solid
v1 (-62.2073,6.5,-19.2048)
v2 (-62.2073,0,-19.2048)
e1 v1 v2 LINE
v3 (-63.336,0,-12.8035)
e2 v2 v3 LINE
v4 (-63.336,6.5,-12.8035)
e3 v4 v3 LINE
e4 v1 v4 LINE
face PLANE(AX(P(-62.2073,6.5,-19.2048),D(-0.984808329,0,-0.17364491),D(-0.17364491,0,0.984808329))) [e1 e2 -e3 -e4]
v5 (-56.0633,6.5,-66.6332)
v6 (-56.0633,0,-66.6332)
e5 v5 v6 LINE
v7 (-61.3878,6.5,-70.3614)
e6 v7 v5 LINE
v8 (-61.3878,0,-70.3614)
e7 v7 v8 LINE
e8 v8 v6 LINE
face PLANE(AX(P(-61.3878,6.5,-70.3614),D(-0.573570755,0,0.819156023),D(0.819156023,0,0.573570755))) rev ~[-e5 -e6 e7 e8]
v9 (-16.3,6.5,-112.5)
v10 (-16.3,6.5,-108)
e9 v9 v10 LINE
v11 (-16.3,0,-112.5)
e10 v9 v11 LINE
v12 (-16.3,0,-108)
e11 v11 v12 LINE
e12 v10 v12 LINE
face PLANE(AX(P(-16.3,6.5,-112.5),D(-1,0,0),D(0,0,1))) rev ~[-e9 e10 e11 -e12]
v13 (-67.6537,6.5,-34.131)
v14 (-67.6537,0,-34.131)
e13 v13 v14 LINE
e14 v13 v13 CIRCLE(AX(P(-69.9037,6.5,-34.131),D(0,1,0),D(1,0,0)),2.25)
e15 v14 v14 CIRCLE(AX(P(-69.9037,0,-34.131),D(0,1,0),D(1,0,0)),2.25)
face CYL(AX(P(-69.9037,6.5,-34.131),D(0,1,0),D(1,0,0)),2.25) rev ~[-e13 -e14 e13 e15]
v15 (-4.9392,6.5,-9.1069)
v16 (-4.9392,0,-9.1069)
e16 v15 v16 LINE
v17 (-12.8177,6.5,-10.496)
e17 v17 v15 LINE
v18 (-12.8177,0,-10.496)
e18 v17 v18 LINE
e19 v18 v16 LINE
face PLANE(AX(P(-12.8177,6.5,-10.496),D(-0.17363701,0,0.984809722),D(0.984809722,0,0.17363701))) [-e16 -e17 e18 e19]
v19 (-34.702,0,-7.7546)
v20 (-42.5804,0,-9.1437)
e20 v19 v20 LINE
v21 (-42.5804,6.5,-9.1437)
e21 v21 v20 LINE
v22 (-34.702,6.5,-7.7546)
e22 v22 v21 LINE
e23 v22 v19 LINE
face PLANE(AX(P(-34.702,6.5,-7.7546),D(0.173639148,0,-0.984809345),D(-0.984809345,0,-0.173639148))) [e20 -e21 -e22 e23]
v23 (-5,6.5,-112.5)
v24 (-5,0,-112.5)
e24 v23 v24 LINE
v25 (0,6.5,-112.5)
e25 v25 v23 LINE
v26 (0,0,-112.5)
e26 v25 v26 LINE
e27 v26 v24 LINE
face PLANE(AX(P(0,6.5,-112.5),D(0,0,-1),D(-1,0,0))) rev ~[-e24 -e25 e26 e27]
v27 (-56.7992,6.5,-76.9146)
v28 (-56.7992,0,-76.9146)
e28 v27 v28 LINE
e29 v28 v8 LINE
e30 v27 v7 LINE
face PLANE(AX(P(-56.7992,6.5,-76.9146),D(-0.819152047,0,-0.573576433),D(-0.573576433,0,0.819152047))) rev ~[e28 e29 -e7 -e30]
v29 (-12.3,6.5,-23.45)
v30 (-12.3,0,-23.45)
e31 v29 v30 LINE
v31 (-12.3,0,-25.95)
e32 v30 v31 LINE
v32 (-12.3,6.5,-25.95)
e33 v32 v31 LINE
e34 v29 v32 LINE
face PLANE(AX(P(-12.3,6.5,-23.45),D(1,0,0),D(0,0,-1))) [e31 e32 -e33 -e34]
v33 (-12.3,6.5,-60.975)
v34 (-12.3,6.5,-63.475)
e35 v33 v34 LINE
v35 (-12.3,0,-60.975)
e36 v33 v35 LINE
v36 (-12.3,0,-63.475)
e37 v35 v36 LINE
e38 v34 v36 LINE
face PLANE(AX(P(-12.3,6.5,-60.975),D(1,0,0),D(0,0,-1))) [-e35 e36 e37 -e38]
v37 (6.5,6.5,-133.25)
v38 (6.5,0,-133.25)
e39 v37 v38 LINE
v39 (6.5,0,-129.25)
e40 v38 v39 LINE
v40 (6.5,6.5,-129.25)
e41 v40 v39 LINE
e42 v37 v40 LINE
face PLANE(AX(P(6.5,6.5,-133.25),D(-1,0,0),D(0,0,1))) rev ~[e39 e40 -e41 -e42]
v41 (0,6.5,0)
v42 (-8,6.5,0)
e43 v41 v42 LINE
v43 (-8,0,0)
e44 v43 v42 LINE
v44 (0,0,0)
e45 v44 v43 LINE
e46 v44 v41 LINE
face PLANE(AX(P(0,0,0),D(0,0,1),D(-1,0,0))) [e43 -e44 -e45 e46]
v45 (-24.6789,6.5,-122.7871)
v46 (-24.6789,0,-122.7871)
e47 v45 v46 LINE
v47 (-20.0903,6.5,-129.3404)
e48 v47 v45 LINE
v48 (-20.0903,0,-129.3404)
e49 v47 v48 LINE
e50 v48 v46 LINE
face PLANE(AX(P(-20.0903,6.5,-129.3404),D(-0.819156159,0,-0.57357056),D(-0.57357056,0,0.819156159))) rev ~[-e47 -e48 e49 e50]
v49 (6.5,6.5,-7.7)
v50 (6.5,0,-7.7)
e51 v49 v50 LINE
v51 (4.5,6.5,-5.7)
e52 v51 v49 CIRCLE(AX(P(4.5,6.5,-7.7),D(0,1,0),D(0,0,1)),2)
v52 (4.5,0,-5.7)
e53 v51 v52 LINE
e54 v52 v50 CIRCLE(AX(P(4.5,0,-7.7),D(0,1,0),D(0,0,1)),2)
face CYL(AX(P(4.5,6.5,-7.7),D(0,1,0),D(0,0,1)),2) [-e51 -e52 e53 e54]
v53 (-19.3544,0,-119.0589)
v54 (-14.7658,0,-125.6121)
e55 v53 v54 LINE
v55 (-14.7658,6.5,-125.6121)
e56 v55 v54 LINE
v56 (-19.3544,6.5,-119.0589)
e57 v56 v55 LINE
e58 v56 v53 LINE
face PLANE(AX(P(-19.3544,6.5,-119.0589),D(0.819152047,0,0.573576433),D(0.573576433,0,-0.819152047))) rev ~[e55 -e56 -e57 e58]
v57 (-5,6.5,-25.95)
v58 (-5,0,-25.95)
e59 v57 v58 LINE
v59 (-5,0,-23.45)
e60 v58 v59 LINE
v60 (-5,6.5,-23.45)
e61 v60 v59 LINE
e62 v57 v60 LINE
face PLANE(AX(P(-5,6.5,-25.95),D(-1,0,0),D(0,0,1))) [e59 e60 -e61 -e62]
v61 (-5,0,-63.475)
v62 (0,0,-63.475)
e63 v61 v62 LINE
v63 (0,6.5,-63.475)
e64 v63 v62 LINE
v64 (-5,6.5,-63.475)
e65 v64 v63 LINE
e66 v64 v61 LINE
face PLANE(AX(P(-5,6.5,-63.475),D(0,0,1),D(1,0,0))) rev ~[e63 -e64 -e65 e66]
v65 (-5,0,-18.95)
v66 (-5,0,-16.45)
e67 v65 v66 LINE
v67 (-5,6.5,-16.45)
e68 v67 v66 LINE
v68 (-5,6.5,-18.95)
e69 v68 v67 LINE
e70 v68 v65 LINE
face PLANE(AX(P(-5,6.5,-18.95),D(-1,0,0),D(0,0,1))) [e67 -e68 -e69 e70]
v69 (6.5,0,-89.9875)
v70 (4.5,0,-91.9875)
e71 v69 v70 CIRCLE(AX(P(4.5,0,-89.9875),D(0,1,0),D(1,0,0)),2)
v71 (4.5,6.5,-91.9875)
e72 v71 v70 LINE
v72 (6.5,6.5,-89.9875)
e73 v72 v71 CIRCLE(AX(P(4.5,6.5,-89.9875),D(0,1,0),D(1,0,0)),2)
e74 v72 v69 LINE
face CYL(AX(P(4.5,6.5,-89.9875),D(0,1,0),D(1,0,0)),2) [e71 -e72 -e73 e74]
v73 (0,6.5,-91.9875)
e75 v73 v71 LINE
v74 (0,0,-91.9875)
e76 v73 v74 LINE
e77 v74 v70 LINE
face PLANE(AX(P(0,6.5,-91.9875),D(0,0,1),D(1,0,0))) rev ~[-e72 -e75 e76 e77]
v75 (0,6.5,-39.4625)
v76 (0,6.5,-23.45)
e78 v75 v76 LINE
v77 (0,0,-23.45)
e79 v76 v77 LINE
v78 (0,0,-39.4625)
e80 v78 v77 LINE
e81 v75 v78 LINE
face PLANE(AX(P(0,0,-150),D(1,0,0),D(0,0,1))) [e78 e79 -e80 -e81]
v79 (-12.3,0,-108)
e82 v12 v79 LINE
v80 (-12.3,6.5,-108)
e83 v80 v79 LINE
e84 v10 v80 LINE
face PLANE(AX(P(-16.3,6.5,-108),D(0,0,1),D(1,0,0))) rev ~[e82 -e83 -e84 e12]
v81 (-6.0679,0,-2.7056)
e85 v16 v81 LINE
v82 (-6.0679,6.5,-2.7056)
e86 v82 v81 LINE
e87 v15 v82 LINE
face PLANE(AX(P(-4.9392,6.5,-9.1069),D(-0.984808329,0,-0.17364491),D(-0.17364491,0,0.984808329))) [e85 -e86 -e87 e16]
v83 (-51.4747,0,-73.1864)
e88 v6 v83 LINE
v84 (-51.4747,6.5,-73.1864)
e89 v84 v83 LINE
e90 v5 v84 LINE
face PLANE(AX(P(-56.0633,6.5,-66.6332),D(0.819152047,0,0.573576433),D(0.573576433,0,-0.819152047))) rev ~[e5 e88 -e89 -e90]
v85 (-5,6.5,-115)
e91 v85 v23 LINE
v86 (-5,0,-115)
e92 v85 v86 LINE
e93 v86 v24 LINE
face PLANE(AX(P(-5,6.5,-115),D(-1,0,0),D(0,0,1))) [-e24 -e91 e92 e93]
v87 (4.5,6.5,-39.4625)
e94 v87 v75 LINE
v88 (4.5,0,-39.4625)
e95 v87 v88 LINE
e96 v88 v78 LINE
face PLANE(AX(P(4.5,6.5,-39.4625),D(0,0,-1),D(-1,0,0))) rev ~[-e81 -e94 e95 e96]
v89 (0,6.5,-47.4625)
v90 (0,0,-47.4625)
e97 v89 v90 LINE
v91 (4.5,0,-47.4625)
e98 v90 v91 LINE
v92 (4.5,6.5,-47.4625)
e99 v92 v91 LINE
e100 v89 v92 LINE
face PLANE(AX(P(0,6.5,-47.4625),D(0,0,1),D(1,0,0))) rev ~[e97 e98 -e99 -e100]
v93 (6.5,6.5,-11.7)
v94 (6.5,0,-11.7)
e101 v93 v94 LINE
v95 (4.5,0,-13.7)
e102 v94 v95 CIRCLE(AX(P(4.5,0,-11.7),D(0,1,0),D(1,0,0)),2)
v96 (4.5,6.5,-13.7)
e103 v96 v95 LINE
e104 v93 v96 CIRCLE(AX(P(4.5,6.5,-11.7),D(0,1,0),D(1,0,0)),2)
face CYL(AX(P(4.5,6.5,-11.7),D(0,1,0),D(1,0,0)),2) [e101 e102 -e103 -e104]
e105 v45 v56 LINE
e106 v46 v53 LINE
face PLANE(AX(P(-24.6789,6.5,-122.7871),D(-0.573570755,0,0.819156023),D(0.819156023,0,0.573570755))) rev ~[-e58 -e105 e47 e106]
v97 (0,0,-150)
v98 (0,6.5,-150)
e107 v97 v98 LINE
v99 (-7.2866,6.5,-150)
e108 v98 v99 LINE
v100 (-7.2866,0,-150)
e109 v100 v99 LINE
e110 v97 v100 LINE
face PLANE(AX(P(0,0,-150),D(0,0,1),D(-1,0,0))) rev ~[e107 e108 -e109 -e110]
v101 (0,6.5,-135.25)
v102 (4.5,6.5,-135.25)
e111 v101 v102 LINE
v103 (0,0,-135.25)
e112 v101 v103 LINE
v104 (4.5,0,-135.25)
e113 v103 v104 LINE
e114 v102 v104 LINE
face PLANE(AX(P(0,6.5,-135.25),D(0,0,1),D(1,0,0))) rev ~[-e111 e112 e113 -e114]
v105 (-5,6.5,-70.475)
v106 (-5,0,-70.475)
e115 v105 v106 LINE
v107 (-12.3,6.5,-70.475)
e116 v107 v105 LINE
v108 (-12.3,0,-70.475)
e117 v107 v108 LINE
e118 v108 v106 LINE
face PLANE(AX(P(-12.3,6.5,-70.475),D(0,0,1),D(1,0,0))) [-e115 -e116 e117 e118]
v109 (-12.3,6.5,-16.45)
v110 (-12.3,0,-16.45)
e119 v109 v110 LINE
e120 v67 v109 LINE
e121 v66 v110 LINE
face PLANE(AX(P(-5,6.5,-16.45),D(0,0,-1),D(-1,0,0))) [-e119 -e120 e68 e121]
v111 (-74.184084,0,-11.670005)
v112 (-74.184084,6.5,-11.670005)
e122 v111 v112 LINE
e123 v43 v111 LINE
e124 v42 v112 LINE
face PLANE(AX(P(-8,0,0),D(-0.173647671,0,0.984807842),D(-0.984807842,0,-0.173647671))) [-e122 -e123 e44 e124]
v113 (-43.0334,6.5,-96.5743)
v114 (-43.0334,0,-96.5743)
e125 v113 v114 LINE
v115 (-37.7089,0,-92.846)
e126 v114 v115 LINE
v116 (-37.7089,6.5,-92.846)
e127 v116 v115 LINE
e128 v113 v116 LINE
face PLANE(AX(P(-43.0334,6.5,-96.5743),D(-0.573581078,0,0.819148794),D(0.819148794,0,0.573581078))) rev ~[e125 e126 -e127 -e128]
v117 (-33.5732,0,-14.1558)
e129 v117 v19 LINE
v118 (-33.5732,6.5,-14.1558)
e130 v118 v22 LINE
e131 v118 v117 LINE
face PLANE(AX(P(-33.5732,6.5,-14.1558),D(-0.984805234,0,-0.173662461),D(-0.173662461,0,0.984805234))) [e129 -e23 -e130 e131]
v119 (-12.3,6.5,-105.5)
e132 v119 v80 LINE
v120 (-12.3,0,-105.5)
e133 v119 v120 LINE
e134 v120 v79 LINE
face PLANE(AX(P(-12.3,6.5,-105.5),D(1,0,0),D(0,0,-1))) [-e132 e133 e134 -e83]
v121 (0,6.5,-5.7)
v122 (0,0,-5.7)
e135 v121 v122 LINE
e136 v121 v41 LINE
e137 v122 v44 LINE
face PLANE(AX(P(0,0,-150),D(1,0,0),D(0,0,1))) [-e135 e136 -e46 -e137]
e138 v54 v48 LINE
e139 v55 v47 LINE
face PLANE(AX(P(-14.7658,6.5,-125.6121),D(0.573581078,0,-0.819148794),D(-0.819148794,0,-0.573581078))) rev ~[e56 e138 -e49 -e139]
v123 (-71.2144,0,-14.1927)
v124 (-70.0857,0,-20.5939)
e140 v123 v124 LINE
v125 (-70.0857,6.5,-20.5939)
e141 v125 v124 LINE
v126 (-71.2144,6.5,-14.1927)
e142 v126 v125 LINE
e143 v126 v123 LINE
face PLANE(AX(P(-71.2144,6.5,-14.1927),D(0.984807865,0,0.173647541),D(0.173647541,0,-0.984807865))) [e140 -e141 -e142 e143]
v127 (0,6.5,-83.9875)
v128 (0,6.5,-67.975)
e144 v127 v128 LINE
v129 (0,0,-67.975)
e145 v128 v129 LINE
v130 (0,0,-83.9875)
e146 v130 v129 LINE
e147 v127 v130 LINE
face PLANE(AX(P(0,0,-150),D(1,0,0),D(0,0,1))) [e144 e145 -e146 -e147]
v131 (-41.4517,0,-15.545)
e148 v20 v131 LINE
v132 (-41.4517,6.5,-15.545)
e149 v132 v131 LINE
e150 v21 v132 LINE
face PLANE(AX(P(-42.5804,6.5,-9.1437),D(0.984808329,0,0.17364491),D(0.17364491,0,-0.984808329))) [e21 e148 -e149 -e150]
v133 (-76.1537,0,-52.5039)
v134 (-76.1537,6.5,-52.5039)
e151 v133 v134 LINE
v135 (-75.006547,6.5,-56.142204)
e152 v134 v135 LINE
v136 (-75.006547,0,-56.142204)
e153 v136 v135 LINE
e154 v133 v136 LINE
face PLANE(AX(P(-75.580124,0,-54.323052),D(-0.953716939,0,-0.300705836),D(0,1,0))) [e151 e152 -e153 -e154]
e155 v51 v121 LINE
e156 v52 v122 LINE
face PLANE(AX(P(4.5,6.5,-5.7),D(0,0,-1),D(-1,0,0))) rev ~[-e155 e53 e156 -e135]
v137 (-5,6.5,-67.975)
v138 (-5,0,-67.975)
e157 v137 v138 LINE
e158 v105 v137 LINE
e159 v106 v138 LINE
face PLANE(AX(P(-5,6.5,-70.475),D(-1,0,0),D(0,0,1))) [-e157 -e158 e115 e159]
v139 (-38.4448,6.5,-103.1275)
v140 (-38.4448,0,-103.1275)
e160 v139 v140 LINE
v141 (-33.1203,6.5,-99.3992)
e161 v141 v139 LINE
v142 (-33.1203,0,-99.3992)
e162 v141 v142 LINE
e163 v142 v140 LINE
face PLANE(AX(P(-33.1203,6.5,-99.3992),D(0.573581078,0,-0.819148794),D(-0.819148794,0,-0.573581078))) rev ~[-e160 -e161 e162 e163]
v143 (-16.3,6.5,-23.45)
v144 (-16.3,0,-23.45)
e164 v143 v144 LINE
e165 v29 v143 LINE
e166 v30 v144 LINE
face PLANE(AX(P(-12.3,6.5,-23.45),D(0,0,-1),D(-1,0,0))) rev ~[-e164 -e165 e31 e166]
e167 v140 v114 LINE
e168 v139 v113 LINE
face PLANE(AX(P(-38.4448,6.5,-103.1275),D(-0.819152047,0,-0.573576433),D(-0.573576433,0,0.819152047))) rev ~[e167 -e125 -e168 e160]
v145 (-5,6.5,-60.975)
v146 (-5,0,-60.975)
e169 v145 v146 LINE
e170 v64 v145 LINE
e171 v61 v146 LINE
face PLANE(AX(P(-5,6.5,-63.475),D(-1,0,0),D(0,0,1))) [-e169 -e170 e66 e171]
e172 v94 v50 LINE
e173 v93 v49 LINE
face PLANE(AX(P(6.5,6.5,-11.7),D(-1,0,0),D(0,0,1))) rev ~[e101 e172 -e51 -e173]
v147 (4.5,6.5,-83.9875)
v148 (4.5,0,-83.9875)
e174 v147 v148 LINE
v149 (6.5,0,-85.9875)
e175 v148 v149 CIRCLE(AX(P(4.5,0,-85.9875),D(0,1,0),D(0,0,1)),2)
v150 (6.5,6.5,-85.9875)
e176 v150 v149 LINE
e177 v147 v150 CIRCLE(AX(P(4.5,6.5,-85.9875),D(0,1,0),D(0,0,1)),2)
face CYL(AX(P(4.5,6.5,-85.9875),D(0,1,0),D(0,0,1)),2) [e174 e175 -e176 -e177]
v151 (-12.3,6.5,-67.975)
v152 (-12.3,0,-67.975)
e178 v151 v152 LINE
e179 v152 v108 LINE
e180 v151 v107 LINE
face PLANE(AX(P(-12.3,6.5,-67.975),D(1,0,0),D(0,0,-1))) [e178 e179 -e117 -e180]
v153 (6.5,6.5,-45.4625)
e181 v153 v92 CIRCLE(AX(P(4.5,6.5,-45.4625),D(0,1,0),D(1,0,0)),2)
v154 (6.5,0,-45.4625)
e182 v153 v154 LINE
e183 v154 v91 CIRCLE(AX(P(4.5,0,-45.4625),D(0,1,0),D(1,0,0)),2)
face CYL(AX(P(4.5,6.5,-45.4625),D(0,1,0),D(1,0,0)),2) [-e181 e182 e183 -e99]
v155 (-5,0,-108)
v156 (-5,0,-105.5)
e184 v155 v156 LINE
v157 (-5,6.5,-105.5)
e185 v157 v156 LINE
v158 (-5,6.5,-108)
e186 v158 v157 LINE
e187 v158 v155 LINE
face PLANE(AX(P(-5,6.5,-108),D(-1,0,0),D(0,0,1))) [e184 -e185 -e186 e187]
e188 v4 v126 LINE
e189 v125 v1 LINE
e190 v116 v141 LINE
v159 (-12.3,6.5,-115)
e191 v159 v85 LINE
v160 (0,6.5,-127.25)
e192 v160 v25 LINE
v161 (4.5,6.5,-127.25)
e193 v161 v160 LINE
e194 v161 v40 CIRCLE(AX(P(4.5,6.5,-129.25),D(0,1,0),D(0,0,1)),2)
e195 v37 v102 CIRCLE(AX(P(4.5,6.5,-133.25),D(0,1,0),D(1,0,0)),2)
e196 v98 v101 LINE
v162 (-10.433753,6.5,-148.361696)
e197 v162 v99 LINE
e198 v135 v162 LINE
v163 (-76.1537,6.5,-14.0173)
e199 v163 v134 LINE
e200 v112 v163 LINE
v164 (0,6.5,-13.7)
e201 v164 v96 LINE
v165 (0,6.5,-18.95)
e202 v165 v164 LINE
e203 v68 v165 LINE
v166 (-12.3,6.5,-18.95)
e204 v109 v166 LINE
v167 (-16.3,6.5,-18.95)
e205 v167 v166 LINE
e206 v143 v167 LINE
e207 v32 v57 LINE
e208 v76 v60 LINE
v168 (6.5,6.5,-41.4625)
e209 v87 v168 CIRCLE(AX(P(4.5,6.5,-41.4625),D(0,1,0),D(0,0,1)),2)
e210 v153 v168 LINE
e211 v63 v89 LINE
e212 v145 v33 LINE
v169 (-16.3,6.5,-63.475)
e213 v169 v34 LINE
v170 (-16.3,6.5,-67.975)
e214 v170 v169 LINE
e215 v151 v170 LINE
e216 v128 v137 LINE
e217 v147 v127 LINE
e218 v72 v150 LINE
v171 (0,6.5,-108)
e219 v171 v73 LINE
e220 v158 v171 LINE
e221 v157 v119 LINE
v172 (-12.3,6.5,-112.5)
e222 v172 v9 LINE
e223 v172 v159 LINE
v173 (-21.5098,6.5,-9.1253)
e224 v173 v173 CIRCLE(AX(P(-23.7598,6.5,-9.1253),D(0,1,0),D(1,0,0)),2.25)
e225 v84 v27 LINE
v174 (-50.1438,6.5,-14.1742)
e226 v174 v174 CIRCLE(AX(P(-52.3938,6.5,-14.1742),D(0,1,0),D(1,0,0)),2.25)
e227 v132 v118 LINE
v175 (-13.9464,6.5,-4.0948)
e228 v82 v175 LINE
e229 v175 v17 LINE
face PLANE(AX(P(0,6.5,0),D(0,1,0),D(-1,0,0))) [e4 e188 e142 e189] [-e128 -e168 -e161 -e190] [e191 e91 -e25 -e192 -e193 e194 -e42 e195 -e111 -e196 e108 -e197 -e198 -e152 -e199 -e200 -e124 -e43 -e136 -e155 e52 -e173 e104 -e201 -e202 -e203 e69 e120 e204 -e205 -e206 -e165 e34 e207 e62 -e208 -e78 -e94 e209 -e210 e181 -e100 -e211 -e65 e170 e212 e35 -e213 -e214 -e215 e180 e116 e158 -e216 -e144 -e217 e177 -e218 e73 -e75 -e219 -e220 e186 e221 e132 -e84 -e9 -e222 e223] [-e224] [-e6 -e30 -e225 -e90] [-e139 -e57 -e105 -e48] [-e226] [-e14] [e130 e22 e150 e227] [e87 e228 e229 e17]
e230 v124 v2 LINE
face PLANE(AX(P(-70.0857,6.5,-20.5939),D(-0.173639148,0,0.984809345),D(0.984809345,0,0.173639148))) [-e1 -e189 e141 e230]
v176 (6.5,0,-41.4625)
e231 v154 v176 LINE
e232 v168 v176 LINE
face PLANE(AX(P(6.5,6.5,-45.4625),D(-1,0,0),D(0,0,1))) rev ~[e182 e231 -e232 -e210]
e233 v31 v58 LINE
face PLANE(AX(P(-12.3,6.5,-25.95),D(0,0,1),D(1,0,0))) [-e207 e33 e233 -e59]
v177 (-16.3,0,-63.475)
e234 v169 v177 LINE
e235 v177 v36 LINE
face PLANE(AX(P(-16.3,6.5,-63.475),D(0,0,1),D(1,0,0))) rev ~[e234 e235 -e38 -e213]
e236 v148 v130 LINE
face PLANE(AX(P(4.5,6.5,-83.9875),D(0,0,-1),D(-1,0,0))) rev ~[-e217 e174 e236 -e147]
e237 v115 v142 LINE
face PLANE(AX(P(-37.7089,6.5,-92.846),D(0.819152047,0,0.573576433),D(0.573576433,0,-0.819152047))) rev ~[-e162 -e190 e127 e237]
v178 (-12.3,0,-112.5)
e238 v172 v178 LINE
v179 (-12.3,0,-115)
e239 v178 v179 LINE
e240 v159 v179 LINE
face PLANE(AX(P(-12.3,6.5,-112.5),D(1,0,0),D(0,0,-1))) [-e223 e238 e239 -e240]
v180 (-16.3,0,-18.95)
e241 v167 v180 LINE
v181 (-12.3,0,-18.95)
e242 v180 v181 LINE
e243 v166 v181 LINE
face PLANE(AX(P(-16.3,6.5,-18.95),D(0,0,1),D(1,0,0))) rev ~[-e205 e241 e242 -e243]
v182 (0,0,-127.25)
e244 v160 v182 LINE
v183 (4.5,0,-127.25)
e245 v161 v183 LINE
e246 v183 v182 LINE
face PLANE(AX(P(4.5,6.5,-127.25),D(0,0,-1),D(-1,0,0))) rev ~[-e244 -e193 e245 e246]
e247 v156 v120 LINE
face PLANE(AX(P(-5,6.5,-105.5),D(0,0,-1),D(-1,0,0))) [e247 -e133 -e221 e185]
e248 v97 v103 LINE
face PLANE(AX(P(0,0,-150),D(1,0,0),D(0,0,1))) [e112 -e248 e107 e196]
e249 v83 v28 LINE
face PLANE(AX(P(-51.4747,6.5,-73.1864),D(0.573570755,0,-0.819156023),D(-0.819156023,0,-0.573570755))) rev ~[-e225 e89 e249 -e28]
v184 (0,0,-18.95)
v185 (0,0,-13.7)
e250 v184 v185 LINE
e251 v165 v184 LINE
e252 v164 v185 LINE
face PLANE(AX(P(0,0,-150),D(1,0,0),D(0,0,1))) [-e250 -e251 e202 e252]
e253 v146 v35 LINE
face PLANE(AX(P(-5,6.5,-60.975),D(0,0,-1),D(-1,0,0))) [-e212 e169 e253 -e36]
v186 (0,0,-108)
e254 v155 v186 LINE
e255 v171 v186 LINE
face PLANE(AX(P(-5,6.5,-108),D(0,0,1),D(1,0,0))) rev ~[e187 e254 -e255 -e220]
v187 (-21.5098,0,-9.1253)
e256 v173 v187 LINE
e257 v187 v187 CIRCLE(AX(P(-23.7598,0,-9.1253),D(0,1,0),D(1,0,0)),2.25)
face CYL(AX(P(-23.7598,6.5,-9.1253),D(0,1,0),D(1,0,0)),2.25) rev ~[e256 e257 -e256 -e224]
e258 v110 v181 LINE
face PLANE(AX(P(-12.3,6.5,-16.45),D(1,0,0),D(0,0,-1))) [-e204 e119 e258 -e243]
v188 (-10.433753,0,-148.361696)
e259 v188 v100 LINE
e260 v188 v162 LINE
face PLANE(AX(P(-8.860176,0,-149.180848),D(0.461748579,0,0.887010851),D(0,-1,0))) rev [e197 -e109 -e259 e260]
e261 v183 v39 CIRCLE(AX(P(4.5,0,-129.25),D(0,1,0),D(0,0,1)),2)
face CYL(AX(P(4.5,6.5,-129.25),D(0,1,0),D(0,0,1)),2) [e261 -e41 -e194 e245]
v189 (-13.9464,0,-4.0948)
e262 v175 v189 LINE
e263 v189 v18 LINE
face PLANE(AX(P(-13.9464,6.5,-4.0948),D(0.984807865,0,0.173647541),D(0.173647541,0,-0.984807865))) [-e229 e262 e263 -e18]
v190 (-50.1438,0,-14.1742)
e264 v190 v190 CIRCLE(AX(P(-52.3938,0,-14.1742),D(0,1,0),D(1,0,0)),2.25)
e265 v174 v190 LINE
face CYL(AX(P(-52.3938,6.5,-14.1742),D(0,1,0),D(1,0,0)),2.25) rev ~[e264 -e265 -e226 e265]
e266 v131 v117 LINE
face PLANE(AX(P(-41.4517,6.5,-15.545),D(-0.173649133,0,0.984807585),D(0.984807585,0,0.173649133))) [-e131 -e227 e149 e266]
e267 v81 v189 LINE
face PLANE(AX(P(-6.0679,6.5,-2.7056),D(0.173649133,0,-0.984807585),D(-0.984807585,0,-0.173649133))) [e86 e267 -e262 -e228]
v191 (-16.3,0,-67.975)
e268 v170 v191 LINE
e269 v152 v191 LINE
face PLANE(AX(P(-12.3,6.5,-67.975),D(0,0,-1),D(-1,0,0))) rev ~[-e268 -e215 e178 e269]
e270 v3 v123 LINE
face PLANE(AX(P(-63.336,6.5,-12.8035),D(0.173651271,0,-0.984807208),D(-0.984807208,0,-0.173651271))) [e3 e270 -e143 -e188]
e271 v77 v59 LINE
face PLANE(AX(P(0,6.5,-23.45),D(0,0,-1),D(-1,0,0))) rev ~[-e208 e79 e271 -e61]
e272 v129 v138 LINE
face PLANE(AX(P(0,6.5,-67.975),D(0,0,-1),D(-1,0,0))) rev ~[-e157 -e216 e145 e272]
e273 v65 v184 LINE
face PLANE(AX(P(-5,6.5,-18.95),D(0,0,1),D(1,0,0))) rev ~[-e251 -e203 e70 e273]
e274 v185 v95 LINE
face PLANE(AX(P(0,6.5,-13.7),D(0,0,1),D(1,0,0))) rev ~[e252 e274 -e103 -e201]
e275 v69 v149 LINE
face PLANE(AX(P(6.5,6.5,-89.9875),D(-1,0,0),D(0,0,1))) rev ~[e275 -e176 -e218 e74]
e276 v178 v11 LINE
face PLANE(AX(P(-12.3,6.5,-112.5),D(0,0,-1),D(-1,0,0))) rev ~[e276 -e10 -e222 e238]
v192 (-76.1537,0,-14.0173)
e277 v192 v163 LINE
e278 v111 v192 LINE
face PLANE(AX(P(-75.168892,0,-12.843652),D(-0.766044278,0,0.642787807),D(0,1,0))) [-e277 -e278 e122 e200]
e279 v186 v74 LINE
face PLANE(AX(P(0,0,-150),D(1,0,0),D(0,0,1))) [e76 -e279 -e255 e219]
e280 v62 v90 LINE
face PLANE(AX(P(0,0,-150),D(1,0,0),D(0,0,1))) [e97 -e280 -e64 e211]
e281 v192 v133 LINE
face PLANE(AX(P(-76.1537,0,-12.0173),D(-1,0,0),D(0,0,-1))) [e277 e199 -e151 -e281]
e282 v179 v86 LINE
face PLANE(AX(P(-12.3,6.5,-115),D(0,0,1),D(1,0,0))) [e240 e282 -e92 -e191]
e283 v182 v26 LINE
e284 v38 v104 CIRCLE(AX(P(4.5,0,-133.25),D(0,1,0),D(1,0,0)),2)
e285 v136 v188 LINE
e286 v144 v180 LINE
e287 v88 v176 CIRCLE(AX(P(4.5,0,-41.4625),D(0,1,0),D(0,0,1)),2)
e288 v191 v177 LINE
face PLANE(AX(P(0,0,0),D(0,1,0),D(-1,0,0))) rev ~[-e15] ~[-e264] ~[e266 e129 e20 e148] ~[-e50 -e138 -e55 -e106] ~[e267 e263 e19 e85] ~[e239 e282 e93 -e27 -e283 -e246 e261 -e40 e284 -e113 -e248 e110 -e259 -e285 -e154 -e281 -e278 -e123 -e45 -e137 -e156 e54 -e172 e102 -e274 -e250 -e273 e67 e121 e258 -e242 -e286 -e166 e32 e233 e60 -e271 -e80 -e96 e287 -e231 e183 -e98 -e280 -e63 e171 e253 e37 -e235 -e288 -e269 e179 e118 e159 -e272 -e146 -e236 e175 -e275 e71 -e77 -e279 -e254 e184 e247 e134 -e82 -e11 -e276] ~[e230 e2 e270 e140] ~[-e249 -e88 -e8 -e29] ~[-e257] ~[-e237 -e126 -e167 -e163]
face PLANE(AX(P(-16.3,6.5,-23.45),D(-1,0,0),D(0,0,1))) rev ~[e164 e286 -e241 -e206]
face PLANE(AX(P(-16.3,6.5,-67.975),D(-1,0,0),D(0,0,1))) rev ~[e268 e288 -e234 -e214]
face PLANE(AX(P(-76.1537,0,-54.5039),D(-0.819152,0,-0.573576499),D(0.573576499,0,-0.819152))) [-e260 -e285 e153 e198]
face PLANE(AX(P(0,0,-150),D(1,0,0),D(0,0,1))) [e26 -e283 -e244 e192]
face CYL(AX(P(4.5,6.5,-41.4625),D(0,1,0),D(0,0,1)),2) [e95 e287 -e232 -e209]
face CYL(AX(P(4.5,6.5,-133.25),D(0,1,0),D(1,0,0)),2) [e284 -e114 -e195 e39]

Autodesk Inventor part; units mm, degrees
ref_plane "YZ Plane" through (0, 0, 0) normal (1, 0, 0) x (0, 1, 0)
ref_plane "XZ Plane" through (0, 0, 0) normal (0, 1, 0) x (-1, 0, 0)
ref_plane "XY Plane" through (0, 0, 0) normal (0, 0, 1) x (1, 0, 0)
sketch "Sketch1" plane through (0, 0, 0) normal (0, 1, 0) x (-1, 0, 0)
  line L0 (8, 0) -> (76.1537, -12.0173)
  line L1 (76.1537, -12.0173) -> (76.1537, -54.5039)
  line L2 (76.1537, -54.5039) -> (9.2866, -150)
  line L3 (0, -150) -> (0, 0)
  line L4 (75.1537, -50.7018) -> (69.8292, -46.9735) construction
  line L5 (69.8292, -46.9735) -> (1, -145.2718) construction
  line L6 (1, -145.2718) -> (6.3245, -149) construction
  line L7 (6.3245, -149) -> (75.1537, -50.7018) construction
  line L8 (75.1537, -14.8873) -> (74.0249, -21.2885) construction
  line L9 (74.0249, -21.2885) -> (1, -8.4123) construction
  line L10 (1, -8.4123) -> (2.1287, -2.011) construction
  line L11 (2.1287, -2.011) -> (75.1537, -14.8873) construction
  line L12 (73.1537, -45.9735) -> (66.6537, -45.9735) construction
  line L13 (66.6537, -45.9735) -> (66.6537, -22.2885) construction
  line L14 (66.6537, -22.2885) -> (73.1537, -22.2885) construction
  line L15 (73.1537, -22.2885) -> (73.1537, -45.9735) construction
  line L16 (0, -150) -> (9.2866, -150)
  line L17 (0, 0) -> (8, 0)
  line L18 (66.6537, -51.5086) -> (66.6537, -19.9888)
  point P0 (0, 0)
  dimension "d0" = 6.5
  dimension "d1" = 3
  dimension "d2" = 3
  dimension "d3" = 3
  dimension "d4" = 120
  dimension "d5" = 80
  dimension "d6" = 35
  dimension "d7" = 1
  dimension "d8" = 1
  dimension "d9" = 1
  dimension "d10" = 1
  dimension "d12" = 1
  dimension "d13" = 8
  dimension "d14" = 150
extrude "Extrusion1" add sketch "Sketch1" along normal blind 6.5
chamfer "Chamfer1" distance 2 angle 45 3 edges at (-76.1537, 3.25, -54.5039) (-76.1537, 3.25, -12.0173) (-9.2866, 3.25, -150)
sketch "Sketch3" plane through (0, 6.5, 0) normal (0, 1, 0) x (1, 0, 0)
  line L0 (-10.4338, 148.3617) -> (-75.0065, 56.1423) projected
  line L1 (-76.1537, 52.5039) -> (-76.1537, 14.0173) projected
  line L2 (-74.184, 11.67) -> (-8, 0) projected
  line L3 (0, 0) -> (0, 150) projected
  line L4 (0, 150) -> (-7.2866, 150) projected
  line L5 (-6.3245, 149) -> (-1, 145.2718) construction
  line L6 (-1, 145.2718) -> (-69.8292, 46.9735) construction
  line L7 (-69.8292, 46.9735) -> (-75.1537, 50.7018) construction
  line L8 (-75.1537, 50.7018) -> (-6.3245, 149) construction
  line L9 (-73.1537, 45.9735) -> (-66.6537, 45.9735) construction
  line L10 (-66.6537, 45.9735) -> (-66.6537, 22.2885) construction
  line L11 (-66.6537, 22.2885) -> (-73.1537, 22.2885) construction
  line L12 (-73.1537, 22.2885) -> (-73.1537, 45.9735) construction
  line L13 (-74.0249, 21.2885) -> (-75.1537, 14.8873) construction
  line L14 (-75.1537, 14.8873) -> (-2.1287, 2.011) construction
  line L15 (-2.1287, 2.011) -> (-1, 8.4123) construction
  line L16 (-1, 8.4123) -> (-74.0249, 21.2885) construction
  circle A0 centre (-69.9037, 34.131) radius 2.25
  line L17 (-56.0633, 66.6332) -> (-51.4747, 73.1864)
  line L18 (-51.4747, 73.1864) -> (-56.7992, 76.9146)
  line L19 (-56.7992, 76.9146) -> (-61.3878, 70.3614)
  line L20 (-61.3878, 70.3614) -> (-56.0633, 66.6332)
  line L21 (-37.7089, 92.846) -> (-33.1203, 99.3992)
  line L22 (-33.1203, 99.3992) -> (-38.4448, 103.1275)
  line L23 (-38.4448, 103.1275) -> (-43.0334, 96.5743)
  line L24 (-43.0334, 96.5743) -> (-37.7089, 92.846)
  line L25 (-19.3544, 119.0589) -> (-14.7658, 125.6121)
  line L26 (-14.7658, 125.6121) -> (-20.0903, 129.3404)
  line L27 (-20.0903, 129.3404) -> (-24.6789, 122.7871)
  line L28 (-24.6789, 122.7871) -> (-19.3544, 119.0589)
  line L29 (-72.4914, 48.8376) -> (-58.7256, 68.4973) construction
  line L30 (-54.137, 75.0505) -> (-40.3711, 94.7101) construction
  line L31 (-35.7825, 101.2634) -> (-22.0167, 120.923) construction
  line L32 (-17.4281, 127.4762) -> (-3.6622, 147.1359) construction
  line L33 (-16.3, 112.5) -> (-16.3, 108)
  line L34 (0, 108) -> (0, 112.5)
  line L35 (-12.3, 115) -> (-5, 115)
  line L36 (-5, 105.5) -> (-12.3, 105.5)
  line L37 (0, 112.5) -> (-5, 112.5)
  line L38 (-12.3, 112.5) -> (-16.3, 112.5)
  line L39 (-16.3, 108) -> (-12.3, 108)
  line L40 (-5, 108) -> (0, 108)
  line L41 (-12.3, 105.5) -> (-12.3, 108)
  line L42 (-12.3, 112.5) -> (-12.3, 115)
  line L43 (-5, 115) -> (-5, 112.5)
  line L44 (-5, 108) -> (-5, 105.5)
  line L45 (-70.0857, 20.5939) -> (-62.2073, 19.2048)
  line L46 (-62.2073, 19.2048) -> (-63.336, 12.8035)
  line L47 (-63.336, 12.8035) -> (-71.2144, 14.1927)
  line L48 (-71.2144, 14.1927) -> (-70.0857, 20.5939)
  line L49 (-41.4517, 15.545) -> (-33.5732, 14.1558)
  line L50 (-33.5732, 14.1558) -> (-34.702, 7.7546)
  line L51 (-34.702, 7.7546) -> (-42.5804, 9.1437)
  line L52 (-42.5804, 9.1437) -> (-41.4517, 15.545)
  line L53 (-12.8177, 10.496) -> (-4.9392, 9.1069)
  line L54 (-4.9392, 9.1069) -> (-6.0679, 2.7056)
  line L55 (-6.0679, 2.7056) -> (-13.9464, 4.0948)
  line L56 (-13.9464, 4.0948) -> (-12.8177, 10.496)
  line L57 (-62.7716, 16.0041) -> (-42.0161, 12.3444) construction
  line L58 (-34.1376, 10.9552) -> (-13.382, 7.2954) construction
  circle A1 centre (-52.3938, 14.1742) radius 2.25
  circle A2 centre (-23.7598, 9.1253) radius 2.25
  line L59 (-16.3, 67.975) -> (-16.3, 63.475)
  line L60 (0, 63.475) -> (0, 67.975)
  line L61 (-12.3, 70.475) -> (-5, 70.475)
  line L62 (-5, 60.975) -> (-12.3, 60.975)
  line L63 (0, 67.975) -> (-5, 67.975)
  line L64 (-12.3, 67.975) -> (-16.3, 67.975)
  line L65 (-16.3, 63.475) -> (-12.3, 63.475)
  line L66 (-5, 63.475) -> (0, 63.475)
  line L67 (-12.3, 60.975) -> (-12.3, 63.475)
  line L68 (-12.3, 67.975) -> (-12.3, 70.475)
  line L69 (-5, 70.475) -> (-5, 67.975)
  line L70 (-5, 63.475) -> (-5, 60.975)
  line L71 (-16.3, 23.45) -> (-16.3, 18.95)
  line L72 (0, 18.95) -> (0, 23.45)
  line L73 (-12.3, 25.95) -> (-5, 25.95)
  line L74 (-5, 16.45) -> (-12.3, 16.45)
  line L75 (0, 23.45) -> (-5, 23.45)
  line L76 (-12.3, 23.45) -> (-16.3, 23.45)
  line L77 (-16.3, 18.95) -> (-12.3, 18.95)
  line L78 (-5, 18.95) -> (0, 18.95)
  line L79 (-12.3, 16.45) -> (-12.3, 18.95)
  line L80 (-12.3, 23.45) -> (-12.3, 25.95)
  line L81 (-5, 25.95) -> (-5, 23.45)
  line L82 (-5, 18.95) -> (-5, 16.45)
  line L83 (-8.65, 105.5) -> (-8.65, 70.475) construction
  line L84 (-8.65, 60.975) -> (-8.65, 25.95) construction
  line L85 (-8, 0) -> (0, 0) projected
  point P0 (-69.9037, 45.9735)
  point P1 (-73.1537, 34.131)
  point P2 (-16.3, 21.2)
  dimension "d25" = 6.5
  dimension "d26" = 3
  dimension "d27" = 3
  dimension "d28" = 3
  dimension "d29" = 120
  dimension "d30" = 1
  dimension "d31" = 1
  dimension "d32" = 1
  dimension "d33" = 1
  dimension "d34" = 1
  dimension "d35" = 4.5
  dimension "d36" = 8
  dimension "d37" = 4.5
  dimension "d38" = 5
  dimension "d39" = 4
  dimension "d40" = 7.3
  dimension "d41" = 2.5
  dimension "d42" = 4
  dimension "d43" = 4
  dimension "d44" = 4.5
  dimension "d45" = 5
  dimension "d46" = 4
  dimension "d47" = 7.3
  dimension "d48" = 2.5
  dimension "d49" = 4.5
  dimension "d50" = 5
  dimension "d51" = 4
  dimension "d52" = 7.3
  dimension "d53" = 2.5
  dimension "d55" = 35
  dimension "d67" = 21.2
extrude "Extrusion3" cut sketch "Sketch3" against normal through all
sketch "Sketch4" plane through (0, 6.5, 0) normal (0, 1, 0) x (1, 0, 0)
  line L0 (0, 67.975) -> (0, 108) projected
  line L1 (0, 112.5) -> (0, 150) projected
  line L2 (0, 0) -> (0, 18.95) projected
  line L3 (-16.3, 18.95) -> (-16.3, 23.45) projected
  line L4 (0, 23.45) -> (0, 63.475) projected
  line L5 (0, 135.25) -> (4.5, 135.25)
  line L6 (6.5, 133.25) -> (6.5, 129.25)
  line L7 (4.5, 127.25) -> (0, 127.25)
  line L8 (0, 127.25) -> (0, 135.25)
  line L9 (0, 91.9875) -> (4.5, 91.9875)
  line L10 (6.5, 89.9875) -> (6.5, 85.9875)
  line L11 (4.5, 83.9875) -> (0, 83.9875)
  line L12 (0, 83.9875) -> (0, 91.9875)
  line L13 (0, 47.4625) -> (4.5, 47.4625)
  line L14 (6.5, 45.4625) -> (6.5, 41.4625)
  line L15 (4.5, 39.4625) -> (0, 39.4625)
  line L16 (0, 39.4625) -> (0, 47.4625)
  line L17 (0, 13.7) -> (4.5, 13.7)
  line L18 (6.5, 11.7) -> (6.5, 7.7)
  line L19 (4.5, 5.7) -> (0, 5.7)
  line L20 (0, 5.7) -> (0, 13.7)
  arc A0 (6.5, 133.25) -> (4.5, 135.25) centre (4.5, 133.25) ccw
  arc A1 (4.5, 127.25) -> (6.5, 129.25) centre (4.5, 129.25) ccw
  arc A2 (6.5, 89.9875) -> (4.5, 91.9875) centre (4.5, 89.9875) ccw
  arc A3 (4.5, 83.9875) -> (6.5, 85.9875) centre (4.5, 85.9875) ccw
  arc A4 (6.5, 45.4625) -> (4.5, 47.4625) centre (4.5, 45.4625) ccw
  arc A5 (4.5, 39.4625) -> (6.5, 41.4625) centre (4.5, 41.4625) ccw
  arc A6 (6.5, 11.7) -> (4.5, 13.7) centre (4.5, 11.7) ccw
  arc A7 (4.5, 5.7) -> (6.5, 7.7) centre (4.5, 7.7) ccw
  point P0 (-16.3, 21.2)
  point P1 (6.5, 131.25)
  point P2 (0, 131.25)
  point P3 (6.5, 87.9875)
  point P4 (0, 87.9875)
  point P5 (6.5, 43.4625)
  point P6 (0, 43.4625)
  dimension "d58" = 2
  dimension "d59" = 8
  dimension "d60" = 8
  dimension "d61" = 8
  dimension "d62" = 8
  dimension "d63" = 6.5
  dimension "d64" = 7.5
extrude "Extrusion4" add sketch "Sketch4" against normal blind 6.5
equation "\"d60\" = d59"
equation "\"d61\" = d60"
equation "\"d62\" = d61"
properties part number "front_panel_brace_right" material "Plywood, Finish"
